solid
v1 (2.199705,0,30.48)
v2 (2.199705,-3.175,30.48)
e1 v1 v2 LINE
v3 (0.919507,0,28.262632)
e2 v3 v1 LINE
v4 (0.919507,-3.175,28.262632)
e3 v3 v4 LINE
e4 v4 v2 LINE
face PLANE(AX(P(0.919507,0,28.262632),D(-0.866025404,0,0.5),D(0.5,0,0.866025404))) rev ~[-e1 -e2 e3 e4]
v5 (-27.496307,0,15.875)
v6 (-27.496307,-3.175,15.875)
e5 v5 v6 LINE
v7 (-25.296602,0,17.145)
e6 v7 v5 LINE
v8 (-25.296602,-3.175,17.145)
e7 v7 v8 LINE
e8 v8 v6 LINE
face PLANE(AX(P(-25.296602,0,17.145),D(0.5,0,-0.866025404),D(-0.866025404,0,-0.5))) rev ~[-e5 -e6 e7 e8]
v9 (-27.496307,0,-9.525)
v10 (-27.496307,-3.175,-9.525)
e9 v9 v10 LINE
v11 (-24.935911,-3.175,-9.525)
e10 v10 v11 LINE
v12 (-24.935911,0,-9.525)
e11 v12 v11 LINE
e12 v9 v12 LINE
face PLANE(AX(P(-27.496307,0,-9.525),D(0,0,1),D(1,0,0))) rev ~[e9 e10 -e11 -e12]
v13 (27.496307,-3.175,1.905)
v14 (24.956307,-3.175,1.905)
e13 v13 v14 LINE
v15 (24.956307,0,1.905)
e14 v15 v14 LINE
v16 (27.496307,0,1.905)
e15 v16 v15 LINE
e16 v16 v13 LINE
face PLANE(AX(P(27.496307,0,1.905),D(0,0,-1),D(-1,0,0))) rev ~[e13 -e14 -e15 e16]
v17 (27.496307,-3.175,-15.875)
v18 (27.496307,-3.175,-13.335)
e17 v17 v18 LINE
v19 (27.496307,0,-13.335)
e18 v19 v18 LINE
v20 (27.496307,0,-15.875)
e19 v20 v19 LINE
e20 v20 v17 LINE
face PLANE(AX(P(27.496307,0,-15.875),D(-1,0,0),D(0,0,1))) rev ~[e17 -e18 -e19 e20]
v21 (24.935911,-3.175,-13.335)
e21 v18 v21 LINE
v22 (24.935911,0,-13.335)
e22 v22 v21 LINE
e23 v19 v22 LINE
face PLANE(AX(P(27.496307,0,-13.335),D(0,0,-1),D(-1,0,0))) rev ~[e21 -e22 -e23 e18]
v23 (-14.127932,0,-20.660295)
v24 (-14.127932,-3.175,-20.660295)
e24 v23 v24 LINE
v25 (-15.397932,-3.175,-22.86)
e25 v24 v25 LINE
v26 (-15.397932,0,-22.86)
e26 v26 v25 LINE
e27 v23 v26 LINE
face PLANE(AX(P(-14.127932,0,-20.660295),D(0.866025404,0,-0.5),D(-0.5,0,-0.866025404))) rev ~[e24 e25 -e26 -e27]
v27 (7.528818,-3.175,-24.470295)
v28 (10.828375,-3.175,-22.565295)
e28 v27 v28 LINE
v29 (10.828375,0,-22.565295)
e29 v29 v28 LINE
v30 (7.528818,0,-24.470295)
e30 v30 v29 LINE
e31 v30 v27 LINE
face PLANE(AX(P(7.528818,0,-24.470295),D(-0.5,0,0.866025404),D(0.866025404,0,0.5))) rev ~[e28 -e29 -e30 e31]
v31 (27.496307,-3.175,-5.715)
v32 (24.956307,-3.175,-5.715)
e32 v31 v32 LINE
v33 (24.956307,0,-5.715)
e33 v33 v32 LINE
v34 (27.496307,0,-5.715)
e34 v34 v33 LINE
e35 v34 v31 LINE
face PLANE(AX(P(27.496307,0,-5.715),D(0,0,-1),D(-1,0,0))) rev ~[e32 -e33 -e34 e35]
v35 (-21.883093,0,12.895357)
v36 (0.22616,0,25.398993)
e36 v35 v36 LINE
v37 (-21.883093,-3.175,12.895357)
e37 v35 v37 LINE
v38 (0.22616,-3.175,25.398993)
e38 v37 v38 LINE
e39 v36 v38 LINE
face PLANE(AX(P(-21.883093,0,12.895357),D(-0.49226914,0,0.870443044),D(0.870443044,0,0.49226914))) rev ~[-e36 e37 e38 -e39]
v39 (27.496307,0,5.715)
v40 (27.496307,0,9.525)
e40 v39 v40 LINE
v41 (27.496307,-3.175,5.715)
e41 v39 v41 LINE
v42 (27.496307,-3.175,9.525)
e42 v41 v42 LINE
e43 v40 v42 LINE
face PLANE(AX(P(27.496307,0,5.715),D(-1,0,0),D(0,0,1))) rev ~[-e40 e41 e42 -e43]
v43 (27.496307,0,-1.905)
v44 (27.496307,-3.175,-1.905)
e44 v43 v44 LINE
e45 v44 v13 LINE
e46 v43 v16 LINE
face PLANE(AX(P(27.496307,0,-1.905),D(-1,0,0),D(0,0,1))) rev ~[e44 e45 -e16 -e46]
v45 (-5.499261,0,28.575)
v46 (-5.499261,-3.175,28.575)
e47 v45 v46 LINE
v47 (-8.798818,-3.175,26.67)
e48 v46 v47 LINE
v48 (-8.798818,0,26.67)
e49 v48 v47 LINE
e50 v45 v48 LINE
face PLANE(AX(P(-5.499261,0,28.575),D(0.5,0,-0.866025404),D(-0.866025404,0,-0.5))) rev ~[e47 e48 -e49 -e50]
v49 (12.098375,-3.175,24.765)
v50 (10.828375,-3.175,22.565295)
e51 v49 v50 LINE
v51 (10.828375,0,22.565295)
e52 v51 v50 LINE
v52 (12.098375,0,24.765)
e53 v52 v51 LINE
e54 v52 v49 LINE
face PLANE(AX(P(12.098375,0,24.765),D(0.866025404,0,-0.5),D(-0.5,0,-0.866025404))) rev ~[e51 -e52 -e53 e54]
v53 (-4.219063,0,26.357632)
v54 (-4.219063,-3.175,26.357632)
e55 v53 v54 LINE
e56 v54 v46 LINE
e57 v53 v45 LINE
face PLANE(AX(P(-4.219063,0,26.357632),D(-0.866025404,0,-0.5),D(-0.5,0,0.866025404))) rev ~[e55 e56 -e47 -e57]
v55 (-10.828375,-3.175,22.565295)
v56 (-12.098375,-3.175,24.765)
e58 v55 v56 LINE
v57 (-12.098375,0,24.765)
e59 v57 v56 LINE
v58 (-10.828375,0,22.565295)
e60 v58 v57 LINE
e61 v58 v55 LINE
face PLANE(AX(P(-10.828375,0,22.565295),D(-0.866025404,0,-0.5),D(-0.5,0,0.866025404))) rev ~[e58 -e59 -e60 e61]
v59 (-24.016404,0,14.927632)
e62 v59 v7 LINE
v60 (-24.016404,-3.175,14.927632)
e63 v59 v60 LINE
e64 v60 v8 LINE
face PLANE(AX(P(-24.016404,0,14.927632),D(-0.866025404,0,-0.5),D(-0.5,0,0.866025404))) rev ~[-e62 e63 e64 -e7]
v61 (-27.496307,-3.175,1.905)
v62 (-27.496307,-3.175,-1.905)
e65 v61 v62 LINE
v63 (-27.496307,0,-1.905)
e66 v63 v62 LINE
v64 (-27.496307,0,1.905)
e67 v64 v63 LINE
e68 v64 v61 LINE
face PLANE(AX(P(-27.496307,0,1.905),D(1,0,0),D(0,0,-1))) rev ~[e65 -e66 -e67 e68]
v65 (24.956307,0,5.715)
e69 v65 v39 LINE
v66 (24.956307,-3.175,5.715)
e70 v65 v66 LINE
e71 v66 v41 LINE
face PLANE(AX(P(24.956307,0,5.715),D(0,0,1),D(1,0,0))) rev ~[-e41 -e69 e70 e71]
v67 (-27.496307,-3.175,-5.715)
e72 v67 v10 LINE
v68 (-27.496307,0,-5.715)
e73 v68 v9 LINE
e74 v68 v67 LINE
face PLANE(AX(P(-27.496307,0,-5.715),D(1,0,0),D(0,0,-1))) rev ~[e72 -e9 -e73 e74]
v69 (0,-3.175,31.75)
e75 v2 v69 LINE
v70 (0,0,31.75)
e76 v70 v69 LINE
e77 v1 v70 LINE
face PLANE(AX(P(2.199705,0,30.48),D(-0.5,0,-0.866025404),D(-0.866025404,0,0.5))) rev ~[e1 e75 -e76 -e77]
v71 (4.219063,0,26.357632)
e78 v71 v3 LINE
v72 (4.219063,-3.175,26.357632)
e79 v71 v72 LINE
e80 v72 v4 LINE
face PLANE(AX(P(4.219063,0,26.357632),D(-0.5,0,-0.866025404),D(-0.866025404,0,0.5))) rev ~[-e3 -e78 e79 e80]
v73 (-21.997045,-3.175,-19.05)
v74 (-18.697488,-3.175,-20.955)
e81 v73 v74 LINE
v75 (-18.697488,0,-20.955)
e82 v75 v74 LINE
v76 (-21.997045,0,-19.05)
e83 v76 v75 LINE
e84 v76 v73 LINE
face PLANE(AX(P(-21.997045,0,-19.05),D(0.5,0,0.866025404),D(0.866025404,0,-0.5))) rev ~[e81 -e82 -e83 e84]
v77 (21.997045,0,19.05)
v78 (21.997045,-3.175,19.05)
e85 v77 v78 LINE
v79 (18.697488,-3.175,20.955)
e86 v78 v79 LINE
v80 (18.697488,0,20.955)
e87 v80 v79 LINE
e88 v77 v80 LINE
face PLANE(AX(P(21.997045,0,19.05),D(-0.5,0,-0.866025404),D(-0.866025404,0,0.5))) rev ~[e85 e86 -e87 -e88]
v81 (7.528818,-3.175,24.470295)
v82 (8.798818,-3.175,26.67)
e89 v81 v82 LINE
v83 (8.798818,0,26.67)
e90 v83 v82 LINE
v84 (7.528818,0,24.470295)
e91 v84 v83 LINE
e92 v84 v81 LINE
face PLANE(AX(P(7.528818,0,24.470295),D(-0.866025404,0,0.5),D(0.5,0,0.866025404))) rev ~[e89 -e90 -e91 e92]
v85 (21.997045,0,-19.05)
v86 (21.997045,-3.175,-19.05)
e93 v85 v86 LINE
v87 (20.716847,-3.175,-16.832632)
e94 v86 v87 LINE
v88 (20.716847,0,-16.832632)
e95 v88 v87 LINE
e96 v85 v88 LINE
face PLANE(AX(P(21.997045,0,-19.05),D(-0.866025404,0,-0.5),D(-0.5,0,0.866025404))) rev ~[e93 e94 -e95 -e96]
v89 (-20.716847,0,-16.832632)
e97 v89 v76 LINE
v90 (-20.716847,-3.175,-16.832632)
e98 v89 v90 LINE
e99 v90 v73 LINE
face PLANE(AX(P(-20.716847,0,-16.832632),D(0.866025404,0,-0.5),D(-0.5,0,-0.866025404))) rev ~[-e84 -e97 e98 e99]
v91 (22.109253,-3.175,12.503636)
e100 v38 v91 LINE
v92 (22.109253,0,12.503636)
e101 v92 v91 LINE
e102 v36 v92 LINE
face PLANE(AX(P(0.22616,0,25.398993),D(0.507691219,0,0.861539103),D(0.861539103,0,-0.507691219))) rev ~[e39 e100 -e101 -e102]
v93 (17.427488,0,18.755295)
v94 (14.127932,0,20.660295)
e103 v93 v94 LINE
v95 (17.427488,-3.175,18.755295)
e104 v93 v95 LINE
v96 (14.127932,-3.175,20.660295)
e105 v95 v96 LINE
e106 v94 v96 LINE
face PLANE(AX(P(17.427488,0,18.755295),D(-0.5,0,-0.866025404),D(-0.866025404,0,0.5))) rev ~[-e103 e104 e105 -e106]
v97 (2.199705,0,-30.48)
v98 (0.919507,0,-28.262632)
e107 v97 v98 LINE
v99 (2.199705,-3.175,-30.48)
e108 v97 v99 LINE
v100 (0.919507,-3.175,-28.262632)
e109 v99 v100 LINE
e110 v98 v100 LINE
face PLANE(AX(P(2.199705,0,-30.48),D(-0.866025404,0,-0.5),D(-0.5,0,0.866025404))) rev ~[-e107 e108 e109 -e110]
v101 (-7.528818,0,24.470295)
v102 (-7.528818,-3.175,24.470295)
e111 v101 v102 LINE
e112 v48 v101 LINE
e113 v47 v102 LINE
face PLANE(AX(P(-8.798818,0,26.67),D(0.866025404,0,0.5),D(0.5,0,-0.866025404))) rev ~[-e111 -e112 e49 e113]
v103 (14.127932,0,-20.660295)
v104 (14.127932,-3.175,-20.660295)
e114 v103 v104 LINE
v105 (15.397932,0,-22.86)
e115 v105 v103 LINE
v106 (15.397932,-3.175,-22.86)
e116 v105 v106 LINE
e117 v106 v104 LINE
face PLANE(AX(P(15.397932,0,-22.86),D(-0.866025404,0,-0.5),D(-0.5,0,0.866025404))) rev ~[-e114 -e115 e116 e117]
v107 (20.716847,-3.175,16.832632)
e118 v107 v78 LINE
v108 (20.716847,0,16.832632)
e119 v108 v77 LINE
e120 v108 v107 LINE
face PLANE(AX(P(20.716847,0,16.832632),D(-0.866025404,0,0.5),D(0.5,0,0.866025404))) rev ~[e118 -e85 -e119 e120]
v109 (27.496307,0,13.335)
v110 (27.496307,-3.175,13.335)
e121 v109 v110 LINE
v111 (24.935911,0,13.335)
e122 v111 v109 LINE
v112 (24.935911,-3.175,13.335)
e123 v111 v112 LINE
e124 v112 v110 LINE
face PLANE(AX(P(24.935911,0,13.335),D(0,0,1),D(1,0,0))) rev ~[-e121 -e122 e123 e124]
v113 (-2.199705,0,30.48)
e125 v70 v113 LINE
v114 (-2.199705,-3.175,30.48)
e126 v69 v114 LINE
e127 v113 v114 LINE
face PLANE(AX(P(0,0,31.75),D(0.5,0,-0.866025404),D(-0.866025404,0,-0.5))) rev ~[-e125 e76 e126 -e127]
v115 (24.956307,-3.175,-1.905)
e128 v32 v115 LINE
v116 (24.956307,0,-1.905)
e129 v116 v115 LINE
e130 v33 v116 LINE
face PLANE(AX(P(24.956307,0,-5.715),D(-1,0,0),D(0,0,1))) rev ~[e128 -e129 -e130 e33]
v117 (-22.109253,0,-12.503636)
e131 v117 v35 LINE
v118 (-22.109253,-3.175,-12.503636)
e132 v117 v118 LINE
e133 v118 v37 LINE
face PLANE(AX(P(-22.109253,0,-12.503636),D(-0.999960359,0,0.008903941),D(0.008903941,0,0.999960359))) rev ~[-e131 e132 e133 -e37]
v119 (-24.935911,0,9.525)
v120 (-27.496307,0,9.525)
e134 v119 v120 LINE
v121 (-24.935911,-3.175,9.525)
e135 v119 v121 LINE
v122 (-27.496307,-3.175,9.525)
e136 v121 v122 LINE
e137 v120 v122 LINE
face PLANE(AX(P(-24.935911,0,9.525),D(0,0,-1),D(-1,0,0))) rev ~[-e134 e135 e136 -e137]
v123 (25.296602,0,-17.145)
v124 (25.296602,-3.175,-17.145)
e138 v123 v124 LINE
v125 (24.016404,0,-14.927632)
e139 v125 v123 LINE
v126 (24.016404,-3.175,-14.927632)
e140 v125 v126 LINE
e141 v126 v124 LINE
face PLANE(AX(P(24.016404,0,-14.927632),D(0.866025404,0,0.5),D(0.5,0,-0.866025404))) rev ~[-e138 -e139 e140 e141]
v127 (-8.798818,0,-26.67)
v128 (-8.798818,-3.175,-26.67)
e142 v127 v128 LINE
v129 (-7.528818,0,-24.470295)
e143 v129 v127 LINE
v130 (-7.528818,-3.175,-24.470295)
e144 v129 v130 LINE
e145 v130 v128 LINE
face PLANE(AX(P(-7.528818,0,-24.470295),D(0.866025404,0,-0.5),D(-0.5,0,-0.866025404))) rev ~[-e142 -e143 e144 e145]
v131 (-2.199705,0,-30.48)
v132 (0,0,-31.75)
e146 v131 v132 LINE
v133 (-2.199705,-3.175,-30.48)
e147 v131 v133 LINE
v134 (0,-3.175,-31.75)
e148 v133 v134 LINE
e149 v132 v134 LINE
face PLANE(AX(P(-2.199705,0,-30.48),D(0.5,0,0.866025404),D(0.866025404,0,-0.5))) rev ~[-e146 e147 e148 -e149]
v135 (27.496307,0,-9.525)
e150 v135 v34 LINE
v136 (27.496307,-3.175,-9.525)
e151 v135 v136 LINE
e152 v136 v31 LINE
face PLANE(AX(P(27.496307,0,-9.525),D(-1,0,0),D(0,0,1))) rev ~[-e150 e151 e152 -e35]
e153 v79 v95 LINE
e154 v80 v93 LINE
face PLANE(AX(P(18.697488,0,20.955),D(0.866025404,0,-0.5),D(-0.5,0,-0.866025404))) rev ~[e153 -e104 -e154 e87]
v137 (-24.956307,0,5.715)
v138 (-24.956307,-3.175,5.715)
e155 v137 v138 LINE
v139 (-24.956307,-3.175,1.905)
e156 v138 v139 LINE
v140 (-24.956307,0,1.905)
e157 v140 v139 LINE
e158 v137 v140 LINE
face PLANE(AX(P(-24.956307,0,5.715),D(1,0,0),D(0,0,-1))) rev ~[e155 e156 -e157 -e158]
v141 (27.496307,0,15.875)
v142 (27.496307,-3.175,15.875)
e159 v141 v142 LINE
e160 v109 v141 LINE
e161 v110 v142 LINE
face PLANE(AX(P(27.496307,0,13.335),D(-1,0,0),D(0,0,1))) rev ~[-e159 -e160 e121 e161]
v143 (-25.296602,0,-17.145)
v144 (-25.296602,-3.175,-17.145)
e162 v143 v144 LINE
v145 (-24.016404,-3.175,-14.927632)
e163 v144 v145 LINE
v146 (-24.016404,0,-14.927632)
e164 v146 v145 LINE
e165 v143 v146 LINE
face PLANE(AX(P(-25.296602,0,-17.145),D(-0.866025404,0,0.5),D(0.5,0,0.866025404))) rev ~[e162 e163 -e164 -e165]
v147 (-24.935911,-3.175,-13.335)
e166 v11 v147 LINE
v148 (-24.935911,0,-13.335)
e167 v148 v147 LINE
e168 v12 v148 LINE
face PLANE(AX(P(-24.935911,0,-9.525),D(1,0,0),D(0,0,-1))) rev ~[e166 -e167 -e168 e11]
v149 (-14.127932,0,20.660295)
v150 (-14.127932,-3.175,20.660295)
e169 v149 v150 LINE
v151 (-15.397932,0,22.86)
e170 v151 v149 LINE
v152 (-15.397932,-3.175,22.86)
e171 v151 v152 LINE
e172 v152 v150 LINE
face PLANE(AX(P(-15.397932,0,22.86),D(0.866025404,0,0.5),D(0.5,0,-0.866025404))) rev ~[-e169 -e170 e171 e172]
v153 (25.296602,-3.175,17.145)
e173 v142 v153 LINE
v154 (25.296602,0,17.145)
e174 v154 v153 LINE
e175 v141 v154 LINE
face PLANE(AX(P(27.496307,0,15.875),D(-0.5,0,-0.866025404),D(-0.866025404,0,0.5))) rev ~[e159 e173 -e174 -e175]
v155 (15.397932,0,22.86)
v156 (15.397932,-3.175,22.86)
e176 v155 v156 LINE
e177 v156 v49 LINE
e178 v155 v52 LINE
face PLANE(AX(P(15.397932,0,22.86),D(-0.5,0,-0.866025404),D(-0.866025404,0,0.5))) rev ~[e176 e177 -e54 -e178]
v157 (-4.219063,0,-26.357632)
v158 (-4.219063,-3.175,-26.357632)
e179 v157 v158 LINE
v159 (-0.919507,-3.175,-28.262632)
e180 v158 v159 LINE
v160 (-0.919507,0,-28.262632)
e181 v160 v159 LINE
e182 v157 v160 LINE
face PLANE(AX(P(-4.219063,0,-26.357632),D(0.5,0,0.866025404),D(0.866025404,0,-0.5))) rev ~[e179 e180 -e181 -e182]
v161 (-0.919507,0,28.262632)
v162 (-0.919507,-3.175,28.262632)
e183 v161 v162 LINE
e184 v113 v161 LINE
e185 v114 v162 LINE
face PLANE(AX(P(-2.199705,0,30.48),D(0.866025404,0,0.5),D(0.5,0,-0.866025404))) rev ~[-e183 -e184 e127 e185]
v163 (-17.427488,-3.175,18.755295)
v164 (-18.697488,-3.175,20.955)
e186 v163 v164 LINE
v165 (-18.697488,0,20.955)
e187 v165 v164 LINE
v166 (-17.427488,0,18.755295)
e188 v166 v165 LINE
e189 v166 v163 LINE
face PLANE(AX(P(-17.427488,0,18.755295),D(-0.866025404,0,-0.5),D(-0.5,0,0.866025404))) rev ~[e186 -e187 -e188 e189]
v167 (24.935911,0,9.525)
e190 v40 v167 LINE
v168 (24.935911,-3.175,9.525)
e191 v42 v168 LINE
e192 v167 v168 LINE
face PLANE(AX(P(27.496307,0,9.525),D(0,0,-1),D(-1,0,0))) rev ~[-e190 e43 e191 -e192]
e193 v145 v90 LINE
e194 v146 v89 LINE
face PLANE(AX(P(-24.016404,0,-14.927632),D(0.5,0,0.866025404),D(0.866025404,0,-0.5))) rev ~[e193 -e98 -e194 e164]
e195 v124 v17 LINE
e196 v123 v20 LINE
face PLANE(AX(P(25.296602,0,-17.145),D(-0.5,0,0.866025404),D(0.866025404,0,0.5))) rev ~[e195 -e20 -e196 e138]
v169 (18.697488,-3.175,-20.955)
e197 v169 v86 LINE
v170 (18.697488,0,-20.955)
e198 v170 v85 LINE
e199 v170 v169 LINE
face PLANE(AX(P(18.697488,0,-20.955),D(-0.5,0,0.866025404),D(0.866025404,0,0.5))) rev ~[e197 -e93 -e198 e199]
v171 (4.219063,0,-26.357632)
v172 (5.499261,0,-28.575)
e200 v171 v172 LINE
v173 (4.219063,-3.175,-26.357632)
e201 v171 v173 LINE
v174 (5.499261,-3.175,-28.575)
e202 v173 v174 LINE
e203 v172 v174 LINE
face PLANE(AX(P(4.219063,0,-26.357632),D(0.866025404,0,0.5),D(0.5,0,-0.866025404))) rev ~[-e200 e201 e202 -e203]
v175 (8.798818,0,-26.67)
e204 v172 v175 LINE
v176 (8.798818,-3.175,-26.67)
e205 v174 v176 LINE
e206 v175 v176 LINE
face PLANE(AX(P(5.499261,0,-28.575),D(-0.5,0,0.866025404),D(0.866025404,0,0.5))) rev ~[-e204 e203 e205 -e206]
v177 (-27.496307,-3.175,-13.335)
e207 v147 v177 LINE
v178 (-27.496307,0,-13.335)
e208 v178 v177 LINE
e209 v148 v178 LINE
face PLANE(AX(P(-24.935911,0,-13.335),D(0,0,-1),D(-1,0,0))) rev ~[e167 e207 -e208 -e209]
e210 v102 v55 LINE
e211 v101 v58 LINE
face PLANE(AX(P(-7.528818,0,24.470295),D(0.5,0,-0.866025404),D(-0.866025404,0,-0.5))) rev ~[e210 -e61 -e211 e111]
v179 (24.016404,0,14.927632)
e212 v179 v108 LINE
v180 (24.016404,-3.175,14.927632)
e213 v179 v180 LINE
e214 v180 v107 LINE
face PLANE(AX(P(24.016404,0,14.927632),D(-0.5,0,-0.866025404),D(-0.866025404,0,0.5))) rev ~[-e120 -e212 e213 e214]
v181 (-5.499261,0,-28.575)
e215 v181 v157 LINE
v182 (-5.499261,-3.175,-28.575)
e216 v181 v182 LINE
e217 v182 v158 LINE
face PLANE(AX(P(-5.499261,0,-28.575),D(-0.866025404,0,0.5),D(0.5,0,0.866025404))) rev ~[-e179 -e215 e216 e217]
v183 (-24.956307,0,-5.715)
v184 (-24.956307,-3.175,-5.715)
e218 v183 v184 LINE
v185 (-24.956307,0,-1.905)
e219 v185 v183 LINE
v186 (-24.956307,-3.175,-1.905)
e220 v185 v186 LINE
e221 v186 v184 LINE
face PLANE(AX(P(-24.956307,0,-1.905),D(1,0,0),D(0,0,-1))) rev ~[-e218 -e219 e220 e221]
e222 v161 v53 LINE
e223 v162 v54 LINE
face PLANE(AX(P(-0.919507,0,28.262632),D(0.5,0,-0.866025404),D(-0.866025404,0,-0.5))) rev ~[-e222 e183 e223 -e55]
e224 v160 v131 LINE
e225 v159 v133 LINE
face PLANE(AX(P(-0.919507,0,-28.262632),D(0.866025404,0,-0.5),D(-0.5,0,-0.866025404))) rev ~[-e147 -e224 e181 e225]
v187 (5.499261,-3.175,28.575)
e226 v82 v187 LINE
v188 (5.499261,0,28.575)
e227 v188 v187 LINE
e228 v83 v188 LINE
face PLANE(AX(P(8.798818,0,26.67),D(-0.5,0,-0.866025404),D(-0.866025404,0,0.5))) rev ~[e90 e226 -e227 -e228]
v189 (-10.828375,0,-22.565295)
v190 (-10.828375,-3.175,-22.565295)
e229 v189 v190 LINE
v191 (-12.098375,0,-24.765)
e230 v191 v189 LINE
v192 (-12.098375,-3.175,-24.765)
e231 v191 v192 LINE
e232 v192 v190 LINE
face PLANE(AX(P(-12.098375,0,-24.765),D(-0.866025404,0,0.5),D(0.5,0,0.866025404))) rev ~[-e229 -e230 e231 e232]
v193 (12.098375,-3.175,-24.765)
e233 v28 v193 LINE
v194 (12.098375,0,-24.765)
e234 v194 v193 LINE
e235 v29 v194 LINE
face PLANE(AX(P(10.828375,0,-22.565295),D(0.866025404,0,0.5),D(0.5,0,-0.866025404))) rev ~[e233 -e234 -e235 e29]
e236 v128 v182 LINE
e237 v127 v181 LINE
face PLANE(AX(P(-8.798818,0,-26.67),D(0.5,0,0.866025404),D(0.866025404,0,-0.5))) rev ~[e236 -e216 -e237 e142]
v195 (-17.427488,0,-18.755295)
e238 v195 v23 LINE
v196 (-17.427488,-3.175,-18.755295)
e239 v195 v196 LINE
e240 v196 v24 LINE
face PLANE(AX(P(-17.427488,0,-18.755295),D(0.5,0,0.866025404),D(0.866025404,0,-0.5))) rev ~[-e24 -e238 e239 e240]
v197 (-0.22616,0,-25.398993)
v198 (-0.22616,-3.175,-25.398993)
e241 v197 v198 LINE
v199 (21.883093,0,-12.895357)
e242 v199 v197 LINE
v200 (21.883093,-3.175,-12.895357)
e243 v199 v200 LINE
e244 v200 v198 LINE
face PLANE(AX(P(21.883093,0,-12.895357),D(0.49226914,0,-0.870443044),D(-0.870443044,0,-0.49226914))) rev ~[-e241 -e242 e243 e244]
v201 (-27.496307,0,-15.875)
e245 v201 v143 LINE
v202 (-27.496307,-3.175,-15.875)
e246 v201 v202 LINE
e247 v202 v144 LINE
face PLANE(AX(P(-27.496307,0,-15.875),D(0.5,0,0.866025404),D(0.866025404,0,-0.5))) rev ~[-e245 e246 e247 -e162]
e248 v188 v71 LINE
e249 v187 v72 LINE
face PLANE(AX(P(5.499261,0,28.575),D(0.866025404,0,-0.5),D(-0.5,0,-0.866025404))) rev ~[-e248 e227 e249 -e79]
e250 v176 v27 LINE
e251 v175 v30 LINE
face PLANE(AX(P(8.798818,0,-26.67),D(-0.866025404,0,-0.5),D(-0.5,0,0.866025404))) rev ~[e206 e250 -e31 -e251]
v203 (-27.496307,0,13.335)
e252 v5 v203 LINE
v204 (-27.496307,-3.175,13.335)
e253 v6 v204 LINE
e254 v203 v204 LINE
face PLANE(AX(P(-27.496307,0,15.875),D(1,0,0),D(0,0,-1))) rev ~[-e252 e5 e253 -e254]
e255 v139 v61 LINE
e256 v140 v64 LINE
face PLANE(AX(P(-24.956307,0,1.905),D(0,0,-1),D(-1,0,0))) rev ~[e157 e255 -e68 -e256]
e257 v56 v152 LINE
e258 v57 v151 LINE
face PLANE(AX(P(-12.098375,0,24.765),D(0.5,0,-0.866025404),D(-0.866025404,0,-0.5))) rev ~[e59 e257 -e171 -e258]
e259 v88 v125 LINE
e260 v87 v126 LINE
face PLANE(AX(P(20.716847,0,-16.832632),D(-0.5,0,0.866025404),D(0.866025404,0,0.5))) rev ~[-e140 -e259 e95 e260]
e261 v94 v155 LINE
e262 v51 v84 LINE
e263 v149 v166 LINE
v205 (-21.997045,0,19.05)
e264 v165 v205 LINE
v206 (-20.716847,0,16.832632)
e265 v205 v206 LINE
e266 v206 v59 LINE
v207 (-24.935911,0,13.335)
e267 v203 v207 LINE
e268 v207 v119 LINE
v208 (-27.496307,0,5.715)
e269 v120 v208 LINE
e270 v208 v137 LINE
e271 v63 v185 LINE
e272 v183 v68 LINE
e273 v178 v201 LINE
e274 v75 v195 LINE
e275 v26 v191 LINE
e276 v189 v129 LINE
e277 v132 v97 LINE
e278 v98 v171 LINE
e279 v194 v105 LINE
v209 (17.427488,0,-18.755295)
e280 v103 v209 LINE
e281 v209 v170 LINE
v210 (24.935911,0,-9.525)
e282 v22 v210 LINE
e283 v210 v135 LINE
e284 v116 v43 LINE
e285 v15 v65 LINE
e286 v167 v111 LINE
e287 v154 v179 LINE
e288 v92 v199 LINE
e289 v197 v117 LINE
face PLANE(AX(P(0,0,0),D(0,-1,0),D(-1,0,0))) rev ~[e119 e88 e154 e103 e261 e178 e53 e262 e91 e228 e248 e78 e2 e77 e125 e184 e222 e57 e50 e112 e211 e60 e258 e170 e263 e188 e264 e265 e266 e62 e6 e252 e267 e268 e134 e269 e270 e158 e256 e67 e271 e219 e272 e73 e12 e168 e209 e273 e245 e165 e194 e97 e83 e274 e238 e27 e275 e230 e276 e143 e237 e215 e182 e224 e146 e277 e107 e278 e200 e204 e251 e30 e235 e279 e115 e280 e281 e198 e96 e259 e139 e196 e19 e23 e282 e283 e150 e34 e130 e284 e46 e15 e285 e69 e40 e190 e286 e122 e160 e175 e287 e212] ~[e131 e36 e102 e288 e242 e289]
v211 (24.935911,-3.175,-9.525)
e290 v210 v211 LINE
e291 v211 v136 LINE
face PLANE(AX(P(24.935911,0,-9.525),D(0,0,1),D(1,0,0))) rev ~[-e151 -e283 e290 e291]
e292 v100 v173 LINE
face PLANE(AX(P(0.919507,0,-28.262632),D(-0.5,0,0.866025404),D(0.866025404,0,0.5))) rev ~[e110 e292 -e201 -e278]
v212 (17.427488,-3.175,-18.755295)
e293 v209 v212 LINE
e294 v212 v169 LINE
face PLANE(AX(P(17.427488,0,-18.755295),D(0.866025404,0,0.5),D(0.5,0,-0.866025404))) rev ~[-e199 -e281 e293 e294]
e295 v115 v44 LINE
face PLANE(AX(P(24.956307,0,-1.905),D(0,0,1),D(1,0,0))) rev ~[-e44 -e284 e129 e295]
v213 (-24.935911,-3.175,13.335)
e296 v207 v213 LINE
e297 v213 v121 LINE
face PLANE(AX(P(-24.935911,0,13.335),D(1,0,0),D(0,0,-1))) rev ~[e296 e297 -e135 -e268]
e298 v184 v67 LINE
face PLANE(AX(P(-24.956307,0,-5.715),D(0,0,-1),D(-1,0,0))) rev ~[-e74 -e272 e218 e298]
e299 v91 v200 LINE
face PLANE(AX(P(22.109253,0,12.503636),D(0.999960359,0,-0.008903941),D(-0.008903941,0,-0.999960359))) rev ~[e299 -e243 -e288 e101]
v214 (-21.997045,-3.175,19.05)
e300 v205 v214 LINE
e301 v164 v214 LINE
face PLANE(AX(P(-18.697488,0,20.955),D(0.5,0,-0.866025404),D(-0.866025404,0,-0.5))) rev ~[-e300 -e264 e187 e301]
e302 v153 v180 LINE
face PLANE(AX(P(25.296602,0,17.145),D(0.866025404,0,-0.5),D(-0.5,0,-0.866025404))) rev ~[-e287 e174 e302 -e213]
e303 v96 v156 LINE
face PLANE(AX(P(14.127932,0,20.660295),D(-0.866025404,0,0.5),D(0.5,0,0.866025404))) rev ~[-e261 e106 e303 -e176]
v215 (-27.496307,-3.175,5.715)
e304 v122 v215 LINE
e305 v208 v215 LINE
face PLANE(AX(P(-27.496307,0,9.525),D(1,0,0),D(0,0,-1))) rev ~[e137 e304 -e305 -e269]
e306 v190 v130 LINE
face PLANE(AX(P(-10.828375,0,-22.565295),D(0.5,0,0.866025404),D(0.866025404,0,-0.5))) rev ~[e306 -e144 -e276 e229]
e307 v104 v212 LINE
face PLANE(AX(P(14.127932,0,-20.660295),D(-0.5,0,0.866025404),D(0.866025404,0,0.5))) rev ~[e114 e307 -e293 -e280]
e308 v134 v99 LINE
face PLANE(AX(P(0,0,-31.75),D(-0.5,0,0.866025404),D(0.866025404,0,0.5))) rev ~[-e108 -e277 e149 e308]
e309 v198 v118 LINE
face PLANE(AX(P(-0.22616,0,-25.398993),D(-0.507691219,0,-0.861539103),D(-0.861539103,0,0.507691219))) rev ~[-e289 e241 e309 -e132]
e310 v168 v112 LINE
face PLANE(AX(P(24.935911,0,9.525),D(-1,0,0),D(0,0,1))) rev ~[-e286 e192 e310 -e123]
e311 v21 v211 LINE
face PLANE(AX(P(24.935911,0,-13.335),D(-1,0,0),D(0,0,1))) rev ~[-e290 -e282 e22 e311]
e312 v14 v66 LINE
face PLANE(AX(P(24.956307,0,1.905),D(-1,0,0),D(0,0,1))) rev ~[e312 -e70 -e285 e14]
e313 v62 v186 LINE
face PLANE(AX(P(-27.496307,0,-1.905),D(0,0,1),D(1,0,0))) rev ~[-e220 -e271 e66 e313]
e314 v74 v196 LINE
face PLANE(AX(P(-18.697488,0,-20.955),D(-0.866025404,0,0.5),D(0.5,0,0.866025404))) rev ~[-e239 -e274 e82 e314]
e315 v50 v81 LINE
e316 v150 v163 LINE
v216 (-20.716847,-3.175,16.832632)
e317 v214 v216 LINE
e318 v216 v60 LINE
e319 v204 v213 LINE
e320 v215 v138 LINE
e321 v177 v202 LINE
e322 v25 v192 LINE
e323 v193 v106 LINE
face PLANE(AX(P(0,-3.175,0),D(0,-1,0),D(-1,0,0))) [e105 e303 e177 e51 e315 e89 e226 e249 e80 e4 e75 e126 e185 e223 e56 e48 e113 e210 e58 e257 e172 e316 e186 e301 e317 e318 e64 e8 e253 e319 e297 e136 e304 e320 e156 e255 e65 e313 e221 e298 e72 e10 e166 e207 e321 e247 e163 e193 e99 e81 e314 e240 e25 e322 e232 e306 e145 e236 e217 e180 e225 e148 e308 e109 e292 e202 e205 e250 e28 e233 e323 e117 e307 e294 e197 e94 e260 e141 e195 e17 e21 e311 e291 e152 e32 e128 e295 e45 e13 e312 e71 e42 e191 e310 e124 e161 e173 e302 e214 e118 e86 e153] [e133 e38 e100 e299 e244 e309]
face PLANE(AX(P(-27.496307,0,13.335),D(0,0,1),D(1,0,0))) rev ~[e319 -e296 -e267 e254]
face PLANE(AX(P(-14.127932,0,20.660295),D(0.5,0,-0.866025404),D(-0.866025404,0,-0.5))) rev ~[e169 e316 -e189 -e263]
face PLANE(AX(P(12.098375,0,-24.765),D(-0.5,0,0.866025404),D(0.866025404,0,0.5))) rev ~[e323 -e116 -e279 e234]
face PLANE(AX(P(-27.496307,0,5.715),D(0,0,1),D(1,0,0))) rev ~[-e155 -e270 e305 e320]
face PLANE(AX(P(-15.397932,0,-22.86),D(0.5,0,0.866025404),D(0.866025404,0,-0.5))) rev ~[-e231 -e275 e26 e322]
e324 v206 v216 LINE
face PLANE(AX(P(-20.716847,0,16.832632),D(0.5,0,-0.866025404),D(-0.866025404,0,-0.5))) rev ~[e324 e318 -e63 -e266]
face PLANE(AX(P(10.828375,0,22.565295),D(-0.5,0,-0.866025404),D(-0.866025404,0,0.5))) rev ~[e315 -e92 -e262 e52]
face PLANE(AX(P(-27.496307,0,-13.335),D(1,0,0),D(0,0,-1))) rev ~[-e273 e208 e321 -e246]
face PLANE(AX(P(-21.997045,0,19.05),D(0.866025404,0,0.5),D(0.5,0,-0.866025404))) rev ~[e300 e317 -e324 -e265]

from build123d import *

# Parameters (mm, degrees)
BOSS_EXTRUDE1_DEPTH = 3.175


with BuildPart() as part:
    # Sketch1 → Boss-Extrude1 (new body)
    with BuildSketch(Plane(origin=(0, 0, 0), x_dir=(1, 0, 0), z_dir=(0, 1, 0))):
        Polygon((-27.49630657, 15.875), (-25.296602045, 17.145), (-24.016404155, 14.927632211), (-20.716847366, 16.832632211), (-21.997045256, 19.05), (-18.697488468, 20.955), (-17.427488468, 18.755295474), (-14.127931679, 20.660295474), (-15.397931679, 22.86), (-12.098374891, 24.765), (-10.828374891, 22.565295474), (-7.528818102, 24.470295474), (-8.798818102, 26.67), (-5.499261314, 28.575), (-4.219063424, 26.357632211), (-0.919506636, 28.262632211), (-2.199704526, 30.48), (0, 31.75), (2.199704526, 30.48), (0.919506636, 28.262632211), (4.219063424, 26.357632211), (5.499261314, 28.575), (8.798818102, 26.67), (7.528818102, 24.470295474), (10.828374891, 22.565295474), (12.098374891, 24.765), (15.397931679, 22.86), (14.127931679, 20.660295474), (17.427488468, 18.755295474), (18.697488468, 20.955), (21.997045256, 19.05), (20.716847366, 16.832632211), (24.016404155, 14.927632211), (25.296602045, 17.145), (27.49630657, 15.875), (27.49630657, 13.335), (24.935910791, 13.335), (24.935910791, 9.525), (27.49630657, 9.525), (27.49630657, 5.715), (24.95630657, 5.715), (24.95630657, 1.905), (27.49630657, 1.905), (27.49630657, -1.905), (24.95630657, -1.905), (24.95630657, -5.715), (27.49630657, -5.715), (27.49630657, -9.525), (24.935910791, -9.525), (24.935910791, -13.335), (27.49630657, -13.335), (27.49630657, -15.875), (25.296602045, -17.145), (24.016404155, -14.927632211), (20.716847366, -16.832632211), (21.997045256, -19.05), (18.697488468, -20.955), (17.427488468, -18.755295474), (14.127931679, -20.660295474), (15.397931679, -22.86), (12.098374891, -24.765), (10.828374891, -22.565295474), (7.528818102, -24.470295474), (8.798818102, -26.67), (5.499261314, -28.575), (4.219063424, -26.357632211), (0.919506636, -28.262632211), (2.199704526, -30.48), (0, -31.75), (-2.199704526, -30.48), (-0.919506636, -28.262632211), (-4.219063424, -26.357632211), (-5.499261314, -28.575), (-8.798818102, -26.67), (-7.528818102, -24.470295474), (-10.828374891, -22.565295474), (-12.098374891, -24.765), (-15.397931679, -22.86), (-14.127931679, -20.660295474), (-17.427488468, -18.755295474), (-18.697488468, -20.955), (-21.997045256, -19.05), (-20.716847366, -16.832632211), (-24.016404155, -14.927632211), (-25.296602045, -17.145), (-27.49630657, -15.875), (-27.49630657, -13.335), (-24.935910791, -13.335), (-24.935910791, -9.525), (-27.49630657, -9.525), (-27.49630657, -5.715), (-24.95630657, -5.715), (-24.95630657, -1.905), (-27.49630657, -1.905), (-27.49630657, 1.905), (-24.95630657, 1.905), (-24.95630657, 5.715), (-27.49630657, 5.715), (-27.49630657, 9.525), (-24.935910791, 9.525), (-24.935910791, 13.335), (-27.49630657, 13.335), align=None)
        Polygon((21.883093223, 12.895356956), (-0.226160103, 25.398993122), (-22.109253326, 12.503636166), (-21.883093223, -12.895356956), (0.226160103, -25.398993122), (22.109253326, -12.503636166), align=None, mode=Mode.SUBTRACT)
    extrude(amount=-BOSS_EXTRUDE1_DEPTH)


solid = part.part
